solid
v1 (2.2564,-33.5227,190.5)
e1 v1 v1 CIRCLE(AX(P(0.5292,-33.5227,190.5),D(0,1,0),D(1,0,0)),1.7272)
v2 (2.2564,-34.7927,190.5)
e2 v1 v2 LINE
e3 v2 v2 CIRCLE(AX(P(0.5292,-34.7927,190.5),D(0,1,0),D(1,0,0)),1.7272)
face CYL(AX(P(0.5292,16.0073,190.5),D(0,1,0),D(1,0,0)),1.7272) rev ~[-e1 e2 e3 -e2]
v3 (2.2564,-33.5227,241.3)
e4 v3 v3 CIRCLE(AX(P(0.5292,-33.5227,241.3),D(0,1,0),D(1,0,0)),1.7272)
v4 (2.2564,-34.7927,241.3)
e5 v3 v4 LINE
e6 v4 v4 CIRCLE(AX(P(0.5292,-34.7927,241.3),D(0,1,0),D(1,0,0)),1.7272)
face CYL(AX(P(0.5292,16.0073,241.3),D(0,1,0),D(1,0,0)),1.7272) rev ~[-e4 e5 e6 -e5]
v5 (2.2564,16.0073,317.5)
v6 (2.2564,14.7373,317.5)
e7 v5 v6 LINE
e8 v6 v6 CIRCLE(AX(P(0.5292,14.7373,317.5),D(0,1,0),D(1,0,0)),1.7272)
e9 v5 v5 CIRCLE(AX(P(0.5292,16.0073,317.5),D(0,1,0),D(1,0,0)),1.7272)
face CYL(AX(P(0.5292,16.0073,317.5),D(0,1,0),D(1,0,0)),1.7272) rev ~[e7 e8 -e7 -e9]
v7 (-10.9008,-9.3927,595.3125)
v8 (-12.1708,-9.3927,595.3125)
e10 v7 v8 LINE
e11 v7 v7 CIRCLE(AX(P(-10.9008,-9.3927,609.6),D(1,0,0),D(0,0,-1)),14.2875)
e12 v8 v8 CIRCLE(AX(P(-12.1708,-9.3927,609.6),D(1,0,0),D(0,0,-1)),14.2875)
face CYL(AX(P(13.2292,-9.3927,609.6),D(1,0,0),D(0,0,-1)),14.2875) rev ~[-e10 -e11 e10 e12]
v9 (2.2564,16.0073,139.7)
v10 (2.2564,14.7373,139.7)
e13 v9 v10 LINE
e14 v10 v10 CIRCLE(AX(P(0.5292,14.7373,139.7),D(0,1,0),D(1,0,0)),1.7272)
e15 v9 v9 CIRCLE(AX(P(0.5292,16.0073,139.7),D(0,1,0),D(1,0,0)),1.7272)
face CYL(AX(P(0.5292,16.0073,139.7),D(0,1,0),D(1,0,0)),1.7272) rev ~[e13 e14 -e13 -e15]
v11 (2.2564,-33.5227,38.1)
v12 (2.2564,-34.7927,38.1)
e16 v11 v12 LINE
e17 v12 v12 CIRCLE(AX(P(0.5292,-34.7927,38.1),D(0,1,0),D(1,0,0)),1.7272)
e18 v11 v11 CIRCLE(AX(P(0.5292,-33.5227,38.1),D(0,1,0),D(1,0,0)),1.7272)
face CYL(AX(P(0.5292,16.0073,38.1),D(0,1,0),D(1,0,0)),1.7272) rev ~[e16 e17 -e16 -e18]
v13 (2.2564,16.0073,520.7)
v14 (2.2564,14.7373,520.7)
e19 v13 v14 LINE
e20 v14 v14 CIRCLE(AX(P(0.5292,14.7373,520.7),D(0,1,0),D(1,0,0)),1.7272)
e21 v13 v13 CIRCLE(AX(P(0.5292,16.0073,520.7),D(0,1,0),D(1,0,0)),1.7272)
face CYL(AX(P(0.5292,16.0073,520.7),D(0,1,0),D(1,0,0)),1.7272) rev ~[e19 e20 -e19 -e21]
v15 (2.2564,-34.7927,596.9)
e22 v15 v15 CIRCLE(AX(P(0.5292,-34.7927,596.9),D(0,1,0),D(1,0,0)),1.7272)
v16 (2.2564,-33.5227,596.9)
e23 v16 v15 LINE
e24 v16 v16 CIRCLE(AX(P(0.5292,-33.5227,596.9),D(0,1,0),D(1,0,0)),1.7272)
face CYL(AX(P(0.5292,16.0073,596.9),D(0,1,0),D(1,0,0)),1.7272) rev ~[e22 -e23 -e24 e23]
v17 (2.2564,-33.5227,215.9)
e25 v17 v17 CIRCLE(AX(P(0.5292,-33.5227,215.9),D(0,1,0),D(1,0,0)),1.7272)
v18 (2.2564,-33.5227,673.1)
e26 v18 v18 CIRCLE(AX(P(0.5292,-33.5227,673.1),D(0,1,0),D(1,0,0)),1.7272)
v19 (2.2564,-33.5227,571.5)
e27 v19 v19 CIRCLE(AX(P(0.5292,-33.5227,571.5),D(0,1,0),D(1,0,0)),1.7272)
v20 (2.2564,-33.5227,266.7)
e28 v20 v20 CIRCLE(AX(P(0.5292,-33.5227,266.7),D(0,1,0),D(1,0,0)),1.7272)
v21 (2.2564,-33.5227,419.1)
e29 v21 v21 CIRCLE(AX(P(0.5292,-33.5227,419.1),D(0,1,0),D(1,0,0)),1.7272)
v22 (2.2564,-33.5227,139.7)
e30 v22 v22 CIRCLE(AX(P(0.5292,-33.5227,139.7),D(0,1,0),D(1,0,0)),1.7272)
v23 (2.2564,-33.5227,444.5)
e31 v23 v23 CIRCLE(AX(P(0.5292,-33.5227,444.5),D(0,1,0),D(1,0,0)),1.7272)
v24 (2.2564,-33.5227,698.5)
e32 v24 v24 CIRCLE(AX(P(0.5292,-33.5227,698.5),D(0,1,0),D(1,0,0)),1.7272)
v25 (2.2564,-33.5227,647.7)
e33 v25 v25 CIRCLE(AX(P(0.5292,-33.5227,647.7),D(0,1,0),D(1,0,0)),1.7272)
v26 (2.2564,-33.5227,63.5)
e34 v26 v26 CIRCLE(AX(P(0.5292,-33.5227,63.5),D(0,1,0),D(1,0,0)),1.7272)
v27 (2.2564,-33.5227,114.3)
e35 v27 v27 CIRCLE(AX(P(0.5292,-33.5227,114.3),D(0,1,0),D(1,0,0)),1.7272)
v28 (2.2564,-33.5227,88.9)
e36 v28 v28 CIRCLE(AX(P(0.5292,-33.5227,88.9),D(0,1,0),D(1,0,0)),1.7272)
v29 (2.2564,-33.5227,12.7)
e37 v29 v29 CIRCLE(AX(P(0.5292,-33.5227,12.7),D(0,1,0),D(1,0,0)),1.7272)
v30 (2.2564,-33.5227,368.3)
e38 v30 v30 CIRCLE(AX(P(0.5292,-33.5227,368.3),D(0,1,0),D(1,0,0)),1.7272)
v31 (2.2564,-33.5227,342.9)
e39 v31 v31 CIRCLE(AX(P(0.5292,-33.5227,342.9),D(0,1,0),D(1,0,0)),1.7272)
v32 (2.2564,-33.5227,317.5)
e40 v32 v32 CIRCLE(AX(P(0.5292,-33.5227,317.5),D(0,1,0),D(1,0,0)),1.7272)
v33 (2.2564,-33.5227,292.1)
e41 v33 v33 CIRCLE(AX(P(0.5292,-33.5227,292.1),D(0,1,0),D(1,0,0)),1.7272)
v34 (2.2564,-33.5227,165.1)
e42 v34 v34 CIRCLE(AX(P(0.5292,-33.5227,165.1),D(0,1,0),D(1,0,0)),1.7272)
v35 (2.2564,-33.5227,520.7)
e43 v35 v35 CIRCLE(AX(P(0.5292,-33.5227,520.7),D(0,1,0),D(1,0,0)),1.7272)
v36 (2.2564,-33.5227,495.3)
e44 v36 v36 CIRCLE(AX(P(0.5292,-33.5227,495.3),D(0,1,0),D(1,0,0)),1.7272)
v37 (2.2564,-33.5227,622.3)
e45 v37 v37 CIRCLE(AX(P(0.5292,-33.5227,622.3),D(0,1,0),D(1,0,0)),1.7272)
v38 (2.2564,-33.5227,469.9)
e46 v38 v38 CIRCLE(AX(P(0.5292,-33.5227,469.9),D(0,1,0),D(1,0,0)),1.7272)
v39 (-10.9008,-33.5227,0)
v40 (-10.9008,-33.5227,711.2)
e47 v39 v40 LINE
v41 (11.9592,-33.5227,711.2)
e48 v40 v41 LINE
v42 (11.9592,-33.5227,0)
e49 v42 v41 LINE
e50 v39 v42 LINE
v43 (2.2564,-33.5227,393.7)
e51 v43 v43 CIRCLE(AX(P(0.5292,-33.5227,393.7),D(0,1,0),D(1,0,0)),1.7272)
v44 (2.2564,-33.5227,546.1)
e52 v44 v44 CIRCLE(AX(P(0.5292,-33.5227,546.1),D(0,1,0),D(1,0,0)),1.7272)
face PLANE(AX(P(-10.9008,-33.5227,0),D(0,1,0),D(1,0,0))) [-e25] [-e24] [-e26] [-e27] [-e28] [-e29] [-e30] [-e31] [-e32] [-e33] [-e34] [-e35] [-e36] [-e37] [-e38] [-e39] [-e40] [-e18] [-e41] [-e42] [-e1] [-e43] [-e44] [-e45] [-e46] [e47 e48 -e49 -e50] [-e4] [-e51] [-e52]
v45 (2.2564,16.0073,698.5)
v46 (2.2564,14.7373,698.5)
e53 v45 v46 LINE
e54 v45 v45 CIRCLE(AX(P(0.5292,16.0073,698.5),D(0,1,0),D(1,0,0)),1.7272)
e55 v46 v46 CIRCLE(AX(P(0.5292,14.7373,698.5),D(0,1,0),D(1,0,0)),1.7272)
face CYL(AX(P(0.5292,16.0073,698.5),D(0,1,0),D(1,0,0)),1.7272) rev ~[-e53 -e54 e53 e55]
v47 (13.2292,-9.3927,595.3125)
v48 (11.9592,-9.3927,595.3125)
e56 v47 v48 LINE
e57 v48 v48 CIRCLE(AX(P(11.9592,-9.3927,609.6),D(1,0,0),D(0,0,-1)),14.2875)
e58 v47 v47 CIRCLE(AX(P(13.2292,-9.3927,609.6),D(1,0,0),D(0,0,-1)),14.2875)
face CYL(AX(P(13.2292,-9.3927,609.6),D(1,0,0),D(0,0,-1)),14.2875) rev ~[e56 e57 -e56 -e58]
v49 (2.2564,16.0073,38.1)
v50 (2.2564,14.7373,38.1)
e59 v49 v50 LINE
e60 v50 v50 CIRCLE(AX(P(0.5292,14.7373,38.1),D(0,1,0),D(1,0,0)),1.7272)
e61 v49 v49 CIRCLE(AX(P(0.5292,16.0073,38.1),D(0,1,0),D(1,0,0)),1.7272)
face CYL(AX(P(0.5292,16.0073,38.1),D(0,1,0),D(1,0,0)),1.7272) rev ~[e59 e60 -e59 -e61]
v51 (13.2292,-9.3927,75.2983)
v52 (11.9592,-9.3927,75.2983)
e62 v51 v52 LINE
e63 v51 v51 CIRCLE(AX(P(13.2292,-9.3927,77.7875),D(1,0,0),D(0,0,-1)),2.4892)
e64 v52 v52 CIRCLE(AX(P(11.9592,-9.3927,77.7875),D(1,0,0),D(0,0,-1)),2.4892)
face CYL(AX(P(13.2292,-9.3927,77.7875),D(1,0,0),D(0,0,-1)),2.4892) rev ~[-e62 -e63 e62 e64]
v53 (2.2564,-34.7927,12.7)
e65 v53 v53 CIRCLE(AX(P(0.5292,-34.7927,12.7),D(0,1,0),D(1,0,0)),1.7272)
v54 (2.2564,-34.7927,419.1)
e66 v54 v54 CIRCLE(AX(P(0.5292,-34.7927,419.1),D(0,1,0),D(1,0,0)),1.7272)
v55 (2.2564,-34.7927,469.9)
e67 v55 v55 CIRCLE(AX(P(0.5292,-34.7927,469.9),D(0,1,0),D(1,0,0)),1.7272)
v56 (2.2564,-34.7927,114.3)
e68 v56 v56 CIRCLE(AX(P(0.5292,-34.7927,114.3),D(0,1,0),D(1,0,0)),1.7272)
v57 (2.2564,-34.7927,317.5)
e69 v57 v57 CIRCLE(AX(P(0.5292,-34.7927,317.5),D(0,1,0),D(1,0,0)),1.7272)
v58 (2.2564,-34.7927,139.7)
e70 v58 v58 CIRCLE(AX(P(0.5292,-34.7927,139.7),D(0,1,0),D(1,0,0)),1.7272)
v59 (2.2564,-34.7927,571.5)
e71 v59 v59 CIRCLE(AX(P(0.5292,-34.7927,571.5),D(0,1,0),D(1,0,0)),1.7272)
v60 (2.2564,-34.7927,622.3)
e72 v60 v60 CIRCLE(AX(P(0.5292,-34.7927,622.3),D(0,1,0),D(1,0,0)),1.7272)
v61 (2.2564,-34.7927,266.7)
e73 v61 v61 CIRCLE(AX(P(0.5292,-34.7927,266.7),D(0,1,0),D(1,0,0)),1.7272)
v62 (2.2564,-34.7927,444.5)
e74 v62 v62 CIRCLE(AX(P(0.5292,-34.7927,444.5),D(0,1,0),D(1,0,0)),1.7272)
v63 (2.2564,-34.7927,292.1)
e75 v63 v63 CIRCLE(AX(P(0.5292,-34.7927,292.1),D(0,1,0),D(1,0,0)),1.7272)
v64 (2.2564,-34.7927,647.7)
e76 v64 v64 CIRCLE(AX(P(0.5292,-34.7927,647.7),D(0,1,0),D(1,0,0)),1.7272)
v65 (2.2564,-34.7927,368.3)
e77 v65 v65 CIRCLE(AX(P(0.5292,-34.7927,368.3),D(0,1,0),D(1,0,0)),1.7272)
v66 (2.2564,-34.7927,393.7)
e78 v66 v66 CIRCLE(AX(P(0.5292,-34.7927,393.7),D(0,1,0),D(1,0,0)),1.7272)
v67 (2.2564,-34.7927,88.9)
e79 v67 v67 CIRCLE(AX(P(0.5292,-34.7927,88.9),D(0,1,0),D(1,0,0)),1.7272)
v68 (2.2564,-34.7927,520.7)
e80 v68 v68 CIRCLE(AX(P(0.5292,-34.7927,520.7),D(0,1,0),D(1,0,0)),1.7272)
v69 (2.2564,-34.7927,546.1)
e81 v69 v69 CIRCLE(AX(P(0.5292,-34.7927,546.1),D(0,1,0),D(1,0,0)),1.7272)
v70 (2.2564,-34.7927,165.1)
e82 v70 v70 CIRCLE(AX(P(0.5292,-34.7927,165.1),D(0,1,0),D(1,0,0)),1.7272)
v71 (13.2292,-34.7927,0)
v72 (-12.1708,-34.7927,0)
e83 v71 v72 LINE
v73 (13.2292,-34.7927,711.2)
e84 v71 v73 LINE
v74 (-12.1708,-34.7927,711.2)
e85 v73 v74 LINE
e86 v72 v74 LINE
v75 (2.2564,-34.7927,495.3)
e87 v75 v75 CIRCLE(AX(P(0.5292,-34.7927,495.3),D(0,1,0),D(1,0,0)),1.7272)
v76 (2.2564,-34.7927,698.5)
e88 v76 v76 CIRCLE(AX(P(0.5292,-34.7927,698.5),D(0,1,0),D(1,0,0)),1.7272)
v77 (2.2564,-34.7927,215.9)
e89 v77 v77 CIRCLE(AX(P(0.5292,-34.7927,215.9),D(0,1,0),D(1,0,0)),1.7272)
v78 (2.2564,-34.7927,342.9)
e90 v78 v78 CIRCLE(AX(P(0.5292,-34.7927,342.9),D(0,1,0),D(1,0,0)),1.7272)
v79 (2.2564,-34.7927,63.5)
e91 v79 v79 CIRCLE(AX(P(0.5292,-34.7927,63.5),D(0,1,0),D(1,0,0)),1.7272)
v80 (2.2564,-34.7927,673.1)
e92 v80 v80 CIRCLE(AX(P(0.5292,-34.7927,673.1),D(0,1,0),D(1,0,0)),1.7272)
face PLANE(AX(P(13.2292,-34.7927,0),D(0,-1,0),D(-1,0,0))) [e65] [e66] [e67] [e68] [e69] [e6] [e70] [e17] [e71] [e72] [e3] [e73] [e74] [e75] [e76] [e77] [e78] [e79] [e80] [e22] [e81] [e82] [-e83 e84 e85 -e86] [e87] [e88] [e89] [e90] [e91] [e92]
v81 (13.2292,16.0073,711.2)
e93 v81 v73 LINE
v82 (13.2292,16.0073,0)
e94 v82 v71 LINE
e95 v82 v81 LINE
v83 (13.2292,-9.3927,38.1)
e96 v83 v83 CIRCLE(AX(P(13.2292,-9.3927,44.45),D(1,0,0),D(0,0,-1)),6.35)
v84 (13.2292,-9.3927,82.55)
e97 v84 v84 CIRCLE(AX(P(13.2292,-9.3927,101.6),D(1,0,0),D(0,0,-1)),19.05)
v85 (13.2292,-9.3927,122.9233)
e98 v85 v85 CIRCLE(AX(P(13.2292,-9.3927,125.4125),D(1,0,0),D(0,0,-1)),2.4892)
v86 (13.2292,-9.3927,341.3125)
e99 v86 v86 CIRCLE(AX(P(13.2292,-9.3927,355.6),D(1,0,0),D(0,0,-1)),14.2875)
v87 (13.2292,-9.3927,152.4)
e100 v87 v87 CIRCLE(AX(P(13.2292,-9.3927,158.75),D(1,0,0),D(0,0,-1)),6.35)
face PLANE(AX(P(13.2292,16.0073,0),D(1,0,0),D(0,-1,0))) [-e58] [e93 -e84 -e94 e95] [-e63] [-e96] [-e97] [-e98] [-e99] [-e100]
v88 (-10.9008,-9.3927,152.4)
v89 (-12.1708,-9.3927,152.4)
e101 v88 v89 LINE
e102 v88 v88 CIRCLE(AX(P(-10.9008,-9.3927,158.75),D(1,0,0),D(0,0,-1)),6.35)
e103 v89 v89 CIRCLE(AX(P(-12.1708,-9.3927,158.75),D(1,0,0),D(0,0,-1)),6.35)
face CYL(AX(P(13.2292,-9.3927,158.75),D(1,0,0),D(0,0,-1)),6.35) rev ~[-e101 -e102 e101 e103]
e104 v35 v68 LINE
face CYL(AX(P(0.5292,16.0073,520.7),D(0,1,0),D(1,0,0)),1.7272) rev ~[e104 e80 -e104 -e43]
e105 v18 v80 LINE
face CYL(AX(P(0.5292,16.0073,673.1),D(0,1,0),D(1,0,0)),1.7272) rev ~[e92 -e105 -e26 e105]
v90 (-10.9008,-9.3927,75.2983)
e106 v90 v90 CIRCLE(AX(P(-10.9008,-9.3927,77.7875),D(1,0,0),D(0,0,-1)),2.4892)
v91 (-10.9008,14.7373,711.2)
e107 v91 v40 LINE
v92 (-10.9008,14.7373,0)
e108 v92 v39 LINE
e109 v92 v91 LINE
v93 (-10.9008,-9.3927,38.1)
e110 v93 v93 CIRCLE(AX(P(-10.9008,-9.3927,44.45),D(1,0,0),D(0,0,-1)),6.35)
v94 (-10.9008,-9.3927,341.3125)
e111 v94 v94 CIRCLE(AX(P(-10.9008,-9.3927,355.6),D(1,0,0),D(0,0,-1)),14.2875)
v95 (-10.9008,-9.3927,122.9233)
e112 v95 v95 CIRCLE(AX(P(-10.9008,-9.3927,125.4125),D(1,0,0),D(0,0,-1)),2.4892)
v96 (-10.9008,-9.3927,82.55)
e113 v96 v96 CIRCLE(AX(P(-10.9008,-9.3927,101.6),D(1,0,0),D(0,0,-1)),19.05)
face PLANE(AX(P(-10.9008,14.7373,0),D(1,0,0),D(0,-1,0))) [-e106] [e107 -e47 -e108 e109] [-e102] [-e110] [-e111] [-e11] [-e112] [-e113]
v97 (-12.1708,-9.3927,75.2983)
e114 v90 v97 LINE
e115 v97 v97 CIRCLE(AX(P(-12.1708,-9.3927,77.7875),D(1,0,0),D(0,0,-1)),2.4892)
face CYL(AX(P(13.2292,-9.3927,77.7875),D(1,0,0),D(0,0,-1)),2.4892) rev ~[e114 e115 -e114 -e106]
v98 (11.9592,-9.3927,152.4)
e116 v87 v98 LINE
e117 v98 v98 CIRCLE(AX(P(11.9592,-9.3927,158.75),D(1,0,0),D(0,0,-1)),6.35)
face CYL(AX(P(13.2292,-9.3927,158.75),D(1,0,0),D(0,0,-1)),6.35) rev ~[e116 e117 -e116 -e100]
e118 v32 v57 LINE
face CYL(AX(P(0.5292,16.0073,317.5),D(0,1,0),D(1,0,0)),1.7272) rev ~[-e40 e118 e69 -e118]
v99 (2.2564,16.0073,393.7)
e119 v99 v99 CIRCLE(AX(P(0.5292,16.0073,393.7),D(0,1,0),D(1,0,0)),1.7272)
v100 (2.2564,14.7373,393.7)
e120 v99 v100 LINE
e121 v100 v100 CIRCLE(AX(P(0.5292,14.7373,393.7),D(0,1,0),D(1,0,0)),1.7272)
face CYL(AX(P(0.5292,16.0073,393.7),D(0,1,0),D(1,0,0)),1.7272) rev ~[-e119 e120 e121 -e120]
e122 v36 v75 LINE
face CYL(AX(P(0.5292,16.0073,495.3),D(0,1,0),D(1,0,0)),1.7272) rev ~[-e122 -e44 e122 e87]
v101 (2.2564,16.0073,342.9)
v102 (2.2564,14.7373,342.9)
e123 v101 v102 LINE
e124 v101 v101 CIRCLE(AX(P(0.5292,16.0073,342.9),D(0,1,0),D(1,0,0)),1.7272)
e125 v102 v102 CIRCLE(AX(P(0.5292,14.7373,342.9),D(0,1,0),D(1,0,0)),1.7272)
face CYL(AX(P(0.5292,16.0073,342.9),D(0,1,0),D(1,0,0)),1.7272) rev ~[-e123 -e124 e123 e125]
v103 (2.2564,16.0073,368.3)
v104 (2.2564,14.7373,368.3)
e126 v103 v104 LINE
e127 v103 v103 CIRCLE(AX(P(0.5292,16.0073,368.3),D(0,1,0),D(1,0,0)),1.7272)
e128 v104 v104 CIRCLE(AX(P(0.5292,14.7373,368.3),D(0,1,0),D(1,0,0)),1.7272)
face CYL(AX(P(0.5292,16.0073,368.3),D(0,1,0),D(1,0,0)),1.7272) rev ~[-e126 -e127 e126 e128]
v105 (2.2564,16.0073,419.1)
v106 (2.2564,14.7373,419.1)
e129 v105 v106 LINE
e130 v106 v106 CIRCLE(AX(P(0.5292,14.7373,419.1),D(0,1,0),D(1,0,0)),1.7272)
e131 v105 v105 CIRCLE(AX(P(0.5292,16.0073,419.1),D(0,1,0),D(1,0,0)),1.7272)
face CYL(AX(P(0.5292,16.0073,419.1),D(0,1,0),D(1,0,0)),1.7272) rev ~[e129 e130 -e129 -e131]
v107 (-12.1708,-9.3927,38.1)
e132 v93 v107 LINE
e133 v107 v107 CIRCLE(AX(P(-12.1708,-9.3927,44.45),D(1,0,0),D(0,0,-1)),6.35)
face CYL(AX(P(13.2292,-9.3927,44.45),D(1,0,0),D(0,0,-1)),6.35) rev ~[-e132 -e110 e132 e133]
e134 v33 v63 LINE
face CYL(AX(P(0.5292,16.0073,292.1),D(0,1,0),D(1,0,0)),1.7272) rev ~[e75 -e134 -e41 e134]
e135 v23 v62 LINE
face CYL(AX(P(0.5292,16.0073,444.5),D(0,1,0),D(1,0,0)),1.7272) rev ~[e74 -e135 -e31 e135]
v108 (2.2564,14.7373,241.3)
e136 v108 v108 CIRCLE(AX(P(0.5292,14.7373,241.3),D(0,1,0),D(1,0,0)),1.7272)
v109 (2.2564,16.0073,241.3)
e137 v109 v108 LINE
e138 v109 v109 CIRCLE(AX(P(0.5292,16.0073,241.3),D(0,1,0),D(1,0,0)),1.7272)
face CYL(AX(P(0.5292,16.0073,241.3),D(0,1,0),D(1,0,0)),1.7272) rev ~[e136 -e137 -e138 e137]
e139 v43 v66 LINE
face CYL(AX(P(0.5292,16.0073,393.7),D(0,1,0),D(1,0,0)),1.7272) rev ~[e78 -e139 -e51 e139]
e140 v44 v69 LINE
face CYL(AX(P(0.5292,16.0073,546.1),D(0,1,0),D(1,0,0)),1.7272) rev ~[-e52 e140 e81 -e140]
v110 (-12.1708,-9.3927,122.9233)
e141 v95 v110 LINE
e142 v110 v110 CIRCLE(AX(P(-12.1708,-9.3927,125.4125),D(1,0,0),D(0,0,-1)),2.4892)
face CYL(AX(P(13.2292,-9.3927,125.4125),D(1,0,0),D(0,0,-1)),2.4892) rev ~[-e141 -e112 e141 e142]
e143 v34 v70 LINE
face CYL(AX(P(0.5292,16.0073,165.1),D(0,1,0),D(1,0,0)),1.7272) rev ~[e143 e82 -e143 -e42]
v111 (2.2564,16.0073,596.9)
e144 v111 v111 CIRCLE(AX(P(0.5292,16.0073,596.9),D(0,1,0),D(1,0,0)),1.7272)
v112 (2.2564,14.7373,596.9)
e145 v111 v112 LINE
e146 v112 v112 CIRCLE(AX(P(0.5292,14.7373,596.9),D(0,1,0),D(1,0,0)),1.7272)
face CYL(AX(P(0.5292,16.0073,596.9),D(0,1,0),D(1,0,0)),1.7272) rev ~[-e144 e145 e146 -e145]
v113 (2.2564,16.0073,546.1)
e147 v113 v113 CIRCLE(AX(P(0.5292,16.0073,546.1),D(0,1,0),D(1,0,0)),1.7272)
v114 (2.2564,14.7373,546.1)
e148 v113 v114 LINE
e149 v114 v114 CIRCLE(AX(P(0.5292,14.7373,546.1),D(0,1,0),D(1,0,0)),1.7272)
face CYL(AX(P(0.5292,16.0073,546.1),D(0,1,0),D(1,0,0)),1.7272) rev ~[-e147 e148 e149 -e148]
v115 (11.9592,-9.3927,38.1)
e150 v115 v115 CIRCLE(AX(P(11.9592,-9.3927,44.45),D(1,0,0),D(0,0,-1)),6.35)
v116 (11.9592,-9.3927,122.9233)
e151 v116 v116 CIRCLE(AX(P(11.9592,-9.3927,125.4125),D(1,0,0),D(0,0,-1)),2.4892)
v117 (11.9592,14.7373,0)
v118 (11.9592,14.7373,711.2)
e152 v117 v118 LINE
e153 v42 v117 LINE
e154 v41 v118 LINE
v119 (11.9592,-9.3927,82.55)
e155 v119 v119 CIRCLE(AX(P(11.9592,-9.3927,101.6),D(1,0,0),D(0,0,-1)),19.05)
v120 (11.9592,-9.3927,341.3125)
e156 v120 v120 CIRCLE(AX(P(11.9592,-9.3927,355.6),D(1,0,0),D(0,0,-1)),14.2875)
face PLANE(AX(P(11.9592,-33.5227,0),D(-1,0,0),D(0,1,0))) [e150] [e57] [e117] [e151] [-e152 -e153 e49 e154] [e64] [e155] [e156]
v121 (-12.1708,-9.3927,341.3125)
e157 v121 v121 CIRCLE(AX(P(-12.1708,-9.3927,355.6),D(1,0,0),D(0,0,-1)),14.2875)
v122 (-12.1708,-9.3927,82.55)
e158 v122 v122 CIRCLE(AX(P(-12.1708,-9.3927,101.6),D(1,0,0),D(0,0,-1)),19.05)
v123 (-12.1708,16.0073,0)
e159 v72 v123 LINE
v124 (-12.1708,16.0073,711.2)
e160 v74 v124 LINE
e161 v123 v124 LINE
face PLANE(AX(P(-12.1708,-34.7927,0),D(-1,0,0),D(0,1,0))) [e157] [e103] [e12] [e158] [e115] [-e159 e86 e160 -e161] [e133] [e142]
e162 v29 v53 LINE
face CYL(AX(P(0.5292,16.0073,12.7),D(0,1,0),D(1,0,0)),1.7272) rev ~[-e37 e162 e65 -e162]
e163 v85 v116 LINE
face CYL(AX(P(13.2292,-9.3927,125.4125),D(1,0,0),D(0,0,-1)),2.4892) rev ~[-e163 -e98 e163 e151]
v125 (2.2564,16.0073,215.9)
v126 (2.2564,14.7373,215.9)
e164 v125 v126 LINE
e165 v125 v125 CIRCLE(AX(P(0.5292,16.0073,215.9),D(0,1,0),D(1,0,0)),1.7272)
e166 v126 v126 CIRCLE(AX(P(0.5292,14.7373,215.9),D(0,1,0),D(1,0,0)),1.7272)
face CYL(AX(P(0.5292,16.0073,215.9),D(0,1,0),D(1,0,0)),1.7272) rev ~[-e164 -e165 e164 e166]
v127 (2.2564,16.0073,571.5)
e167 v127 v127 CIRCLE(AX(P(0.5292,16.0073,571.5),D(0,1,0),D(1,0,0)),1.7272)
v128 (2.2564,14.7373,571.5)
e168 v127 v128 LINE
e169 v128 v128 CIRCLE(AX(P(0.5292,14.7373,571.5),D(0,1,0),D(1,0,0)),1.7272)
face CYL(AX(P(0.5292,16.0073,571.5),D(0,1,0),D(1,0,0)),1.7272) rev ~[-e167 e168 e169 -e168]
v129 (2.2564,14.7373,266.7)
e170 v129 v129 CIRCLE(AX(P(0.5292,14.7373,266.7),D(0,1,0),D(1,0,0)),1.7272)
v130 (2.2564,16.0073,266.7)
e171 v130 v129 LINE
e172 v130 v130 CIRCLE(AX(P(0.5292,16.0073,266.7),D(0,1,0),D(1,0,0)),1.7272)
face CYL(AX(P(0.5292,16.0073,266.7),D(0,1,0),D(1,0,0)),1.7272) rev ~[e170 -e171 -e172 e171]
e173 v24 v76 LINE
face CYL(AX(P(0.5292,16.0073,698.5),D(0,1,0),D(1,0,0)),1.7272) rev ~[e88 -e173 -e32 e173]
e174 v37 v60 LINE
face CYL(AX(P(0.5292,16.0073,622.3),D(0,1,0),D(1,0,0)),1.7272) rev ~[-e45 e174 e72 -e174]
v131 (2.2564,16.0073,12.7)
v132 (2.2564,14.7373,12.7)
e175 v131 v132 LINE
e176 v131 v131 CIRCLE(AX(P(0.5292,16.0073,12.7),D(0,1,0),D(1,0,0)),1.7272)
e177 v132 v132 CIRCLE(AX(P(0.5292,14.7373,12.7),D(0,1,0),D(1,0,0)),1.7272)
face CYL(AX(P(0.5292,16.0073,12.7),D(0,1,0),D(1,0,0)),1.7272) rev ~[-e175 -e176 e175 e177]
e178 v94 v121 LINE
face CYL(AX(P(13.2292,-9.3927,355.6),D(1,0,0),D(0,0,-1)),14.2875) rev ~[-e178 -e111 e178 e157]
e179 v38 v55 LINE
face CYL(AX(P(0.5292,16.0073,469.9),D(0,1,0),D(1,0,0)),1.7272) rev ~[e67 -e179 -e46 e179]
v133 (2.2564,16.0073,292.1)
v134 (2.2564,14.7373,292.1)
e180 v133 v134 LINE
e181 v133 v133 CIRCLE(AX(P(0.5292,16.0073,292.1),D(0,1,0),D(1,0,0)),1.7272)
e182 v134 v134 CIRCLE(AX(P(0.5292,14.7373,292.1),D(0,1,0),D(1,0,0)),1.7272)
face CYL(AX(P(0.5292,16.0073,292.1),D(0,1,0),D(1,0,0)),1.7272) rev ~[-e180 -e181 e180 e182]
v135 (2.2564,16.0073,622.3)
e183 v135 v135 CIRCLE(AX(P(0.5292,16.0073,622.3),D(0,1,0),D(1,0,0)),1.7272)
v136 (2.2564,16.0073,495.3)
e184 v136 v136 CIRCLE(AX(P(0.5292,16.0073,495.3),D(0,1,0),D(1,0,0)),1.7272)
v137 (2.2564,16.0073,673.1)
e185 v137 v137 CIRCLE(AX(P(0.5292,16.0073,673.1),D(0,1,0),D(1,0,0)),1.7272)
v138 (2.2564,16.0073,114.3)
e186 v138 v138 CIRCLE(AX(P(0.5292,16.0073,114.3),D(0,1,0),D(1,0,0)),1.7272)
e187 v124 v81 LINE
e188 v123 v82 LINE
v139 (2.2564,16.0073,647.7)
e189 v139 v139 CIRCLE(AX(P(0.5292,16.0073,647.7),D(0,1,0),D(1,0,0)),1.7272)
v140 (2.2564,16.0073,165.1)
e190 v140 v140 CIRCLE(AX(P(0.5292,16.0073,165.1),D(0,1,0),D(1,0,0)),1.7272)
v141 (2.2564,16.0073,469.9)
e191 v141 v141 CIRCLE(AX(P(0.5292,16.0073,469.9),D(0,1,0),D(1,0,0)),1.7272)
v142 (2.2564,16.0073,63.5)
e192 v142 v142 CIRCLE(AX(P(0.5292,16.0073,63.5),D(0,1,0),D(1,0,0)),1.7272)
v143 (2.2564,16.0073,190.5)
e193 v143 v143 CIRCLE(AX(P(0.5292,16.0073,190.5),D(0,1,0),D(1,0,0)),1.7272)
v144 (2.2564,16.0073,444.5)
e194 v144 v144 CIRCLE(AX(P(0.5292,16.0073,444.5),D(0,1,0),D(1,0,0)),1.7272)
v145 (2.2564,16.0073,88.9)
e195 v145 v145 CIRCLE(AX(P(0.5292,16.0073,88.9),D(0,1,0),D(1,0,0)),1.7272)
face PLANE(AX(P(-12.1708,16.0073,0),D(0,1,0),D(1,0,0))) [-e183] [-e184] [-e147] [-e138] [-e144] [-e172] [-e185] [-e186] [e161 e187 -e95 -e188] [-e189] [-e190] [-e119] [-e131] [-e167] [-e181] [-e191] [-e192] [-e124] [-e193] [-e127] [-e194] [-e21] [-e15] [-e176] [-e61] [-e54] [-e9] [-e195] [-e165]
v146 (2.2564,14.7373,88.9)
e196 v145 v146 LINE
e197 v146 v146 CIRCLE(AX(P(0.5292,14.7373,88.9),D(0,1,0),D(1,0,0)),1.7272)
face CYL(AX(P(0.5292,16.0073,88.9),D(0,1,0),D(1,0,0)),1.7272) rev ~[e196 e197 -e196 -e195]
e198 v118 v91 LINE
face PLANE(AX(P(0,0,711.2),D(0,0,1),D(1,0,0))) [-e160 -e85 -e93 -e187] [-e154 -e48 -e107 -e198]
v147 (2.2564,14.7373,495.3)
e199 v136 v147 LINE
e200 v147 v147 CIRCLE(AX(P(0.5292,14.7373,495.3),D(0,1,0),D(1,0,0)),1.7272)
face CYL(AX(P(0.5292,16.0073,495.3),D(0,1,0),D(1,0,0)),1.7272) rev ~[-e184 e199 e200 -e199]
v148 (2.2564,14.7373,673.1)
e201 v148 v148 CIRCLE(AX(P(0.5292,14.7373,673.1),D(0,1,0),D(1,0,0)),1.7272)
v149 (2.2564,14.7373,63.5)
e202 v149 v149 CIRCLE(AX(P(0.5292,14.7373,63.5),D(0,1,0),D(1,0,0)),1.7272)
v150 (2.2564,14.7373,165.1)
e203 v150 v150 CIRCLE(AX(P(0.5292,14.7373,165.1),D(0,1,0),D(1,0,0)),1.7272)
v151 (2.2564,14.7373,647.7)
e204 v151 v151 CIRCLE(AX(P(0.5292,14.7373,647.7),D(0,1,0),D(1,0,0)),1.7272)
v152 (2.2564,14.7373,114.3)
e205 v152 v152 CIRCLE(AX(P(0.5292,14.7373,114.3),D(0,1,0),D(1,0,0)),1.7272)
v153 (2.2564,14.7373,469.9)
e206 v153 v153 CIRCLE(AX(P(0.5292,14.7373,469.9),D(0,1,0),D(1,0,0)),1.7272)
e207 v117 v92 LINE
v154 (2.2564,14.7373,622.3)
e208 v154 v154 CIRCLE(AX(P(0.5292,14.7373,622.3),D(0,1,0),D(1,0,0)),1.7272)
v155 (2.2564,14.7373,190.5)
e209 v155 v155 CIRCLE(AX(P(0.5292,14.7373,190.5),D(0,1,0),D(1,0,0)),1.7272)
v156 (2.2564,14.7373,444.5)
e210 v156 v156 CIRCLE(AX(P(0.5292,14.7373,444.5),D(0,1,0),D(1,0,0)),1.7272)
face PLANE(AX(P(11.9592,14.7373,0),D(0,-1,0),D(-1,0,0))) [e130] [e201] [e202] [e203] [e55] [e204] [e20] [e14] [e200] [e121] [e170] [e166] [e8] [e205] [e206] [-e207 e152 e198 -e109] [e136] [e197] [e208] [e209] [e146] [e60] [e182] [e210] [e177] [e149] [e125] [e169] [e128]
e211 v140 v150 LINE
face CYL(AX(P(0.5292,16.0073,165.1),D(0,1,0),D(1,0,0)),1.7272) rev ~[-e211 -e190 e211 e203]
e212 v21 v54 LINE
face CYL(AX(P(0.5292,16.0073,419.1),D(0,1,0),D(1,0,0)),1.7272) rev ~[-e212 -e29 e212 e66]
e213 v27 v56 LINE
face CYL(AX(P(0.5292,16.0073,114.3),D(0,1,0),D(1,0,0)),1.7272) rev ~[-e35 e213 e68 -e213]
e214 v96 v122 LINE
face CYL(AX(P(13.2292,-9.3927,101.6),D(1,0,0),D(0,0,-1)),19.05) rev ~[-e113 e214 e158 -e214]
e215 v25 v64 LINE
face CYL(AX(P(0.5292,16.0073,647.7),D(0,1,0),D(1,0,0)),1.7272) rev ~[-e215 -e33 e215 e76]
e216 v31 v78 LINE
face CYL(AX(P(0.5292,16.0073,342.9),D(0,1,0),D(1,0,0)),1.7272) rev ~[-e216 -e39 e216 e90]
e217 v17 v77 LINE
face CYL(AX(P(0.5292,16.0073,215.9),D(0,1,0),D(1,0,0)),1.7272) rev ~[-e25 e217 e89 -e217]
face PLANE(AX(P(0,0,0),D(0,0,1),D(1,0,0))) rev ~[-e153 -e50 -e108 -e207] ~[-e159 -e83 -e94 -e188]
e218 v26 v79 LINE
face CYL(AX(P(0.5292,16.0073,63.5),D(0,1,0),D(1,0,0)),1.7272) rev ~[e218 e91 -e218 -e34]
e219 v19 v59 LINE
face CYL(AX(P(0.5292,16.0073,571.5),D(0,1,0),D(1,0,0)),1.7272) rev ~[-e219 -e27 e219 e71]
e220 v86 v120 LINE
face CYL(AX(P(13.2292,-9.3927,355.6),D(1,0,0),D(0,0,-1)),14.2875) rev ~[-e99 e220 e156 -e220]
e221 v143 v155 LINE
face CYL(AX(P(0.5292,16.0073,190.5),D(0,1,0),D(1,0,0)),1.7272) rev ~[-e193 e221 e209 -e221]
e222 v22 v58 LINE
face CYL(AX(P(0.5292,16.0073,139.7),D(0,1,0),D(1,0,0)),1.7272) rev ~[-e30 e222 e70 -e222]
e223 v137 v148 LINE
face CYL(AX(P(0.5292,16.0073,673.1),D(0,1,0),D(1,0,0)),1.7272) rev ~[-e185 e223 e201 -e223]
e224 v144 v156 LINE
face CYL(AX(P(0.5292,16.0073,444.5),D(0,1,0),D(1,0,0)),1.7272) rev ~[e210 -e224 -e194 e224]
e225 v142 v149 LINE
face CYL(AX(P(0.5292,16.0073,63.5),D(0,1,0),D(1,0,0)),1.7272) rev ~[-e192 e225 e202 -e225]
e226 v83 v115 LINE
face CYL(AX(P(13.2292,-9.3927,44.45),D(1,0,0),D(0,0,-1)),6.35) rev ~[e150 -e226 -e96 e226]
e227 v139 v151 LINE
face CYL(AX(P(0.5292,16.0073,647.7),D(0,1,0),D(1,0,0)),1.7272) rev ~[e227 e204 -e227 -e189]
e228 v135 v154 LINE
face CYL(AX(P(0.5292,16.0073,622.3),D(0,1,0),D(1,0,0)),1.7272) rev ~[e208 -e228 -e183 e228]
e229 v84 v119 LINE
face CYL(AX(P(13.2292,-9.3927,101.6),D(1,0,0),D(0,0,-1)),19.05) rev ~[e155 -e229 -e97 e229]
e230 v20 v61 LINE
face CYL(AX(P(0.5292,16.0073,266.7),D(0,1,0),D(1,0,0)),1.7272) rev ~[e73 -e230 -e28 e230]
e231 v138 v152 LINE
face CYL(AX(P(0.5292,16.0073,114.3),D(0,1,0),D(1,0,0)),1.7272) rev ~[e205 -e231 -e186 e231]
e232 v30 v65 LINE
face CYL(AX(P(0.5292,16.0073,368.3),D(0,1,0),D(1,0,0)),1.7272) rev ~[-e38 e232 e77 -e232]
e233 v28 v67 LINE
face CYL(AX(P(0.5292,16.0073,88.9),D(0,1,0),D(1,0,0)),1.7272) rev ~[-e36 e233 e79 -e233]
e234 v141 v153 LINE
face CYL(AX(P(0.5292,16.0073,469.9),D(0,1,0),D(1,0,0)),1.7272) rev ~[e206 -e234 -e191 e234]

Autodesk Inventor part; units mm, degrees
ref_plane "YZ Plane" through (0, 0, 0) normal (1, 0, 0) x (0, 1, 0)
ref_plane "XZ Plane" through (0, 0, 0) normal (0, 1, 0) x (-1, 0, 0)
ref_plane "XY Plane" through (0, 0, 0) normal (0, 0, 1) x (1, 0, 0)
sketch "Sketch1" plane through (0, 0, 0) normal (0, 0, 1) x (1, 0, 0)
  line L0 (-12.1708, 16.0073) -> (13.2292, 16.0073)
  line L1 (13.2292, 16.0073) -> (13.2292, -34.7927)
  line L2 (13.2292, -34.7927) -> (-12.1708, -34.7927)
  line L3 (-12.1708, -34.7927) -> (-12.1708, 16.0073)
  line L4 (11.9592, 14.7373) -> (-10.9008, 14.7373)
  line L5 (-10.9008, 14.7373) -> (-10.9008, -33.5227)
  line L6 (-10.9008, -33.5227) -> (11.9592, -33.5227)
  line L7 (11.9592, -33.5227) -> (11.9592, 14.7373)
  point P0 (0, 0)
  dimension "d0" = 25.4
  dimension "d1" = 50.8
  dimension "d2" = 1.27
extrude "Extrusion1" add sketch "Sketch1" along normal blind 711.2
sketch "Sketch2" plane through (-12.1708, 16.0073, 0) normal (0, 1, 0) x (1, 0, 0)
  circle A0 centre (12.7, -12.7) radius 1.7272
  line L0 (25.4, 0) -> (0, 0) projected
  line L1 (0, 0) -> (0, -711.2) projected
  point P0 (12.1708, 0)
  dimension "d5" = 3.4544
  dimension "d6" = 12.7
  dimension "d7" = 12.7
extrude "Extrusion2" cut sketch "Sketch2" against normal through all
pattern_linear "Rectangular Pattern1" count 71 spacing 25.4 along (0, 0, 1) of "Extrusion2"
sketch "Sketch3" plane through (13.2292, -34.7927, 0) normal (1, 0, 0) x (0, 0, -1)
  circle A0 centre (-101.6, 25.4) radius 19.05
  circle A1 centre (-101.6, 25.4) radius 23.8125 construction
  circle A2 centre (-125.4125, 25.4) radius 2.4892
  circle A3 centre (-77.7875, 25.4) radius 2.4892
  line L0 (-406.4, 34.925) -> (-381, 15.875) construction
  line L1 (-711.2, 50.8) -> (-711.2, 0) construction
  line L2 (-711.2, 25.4) -> (0, 25.4) construction
  line L3 (0, 50.8) -> (0, 0) construction
  circle A4 centre (-609.6, 25.4) radius 14.2875
  circle A5 centre (-355.6, 25.4) radius 14.2875
  circle A6 centre (-44.45, 25.4) radius 6.35
  circle A7 centre (-158.75, 25.4) radius 6.35
  line L4 (0, 0) -> (0, 50.8) projected
  point P0 (0, 34.7927)
  point P1 (-393.7, 25.4)
  point P2 (-624.3413, 25.4)
  point P3 (-134.62, 25.4)
  dimension "d15" = 38.1
  dimension "d16" = 47.625
  dimension "d17" = 4.9784
  dimension "d18" = 4.9784
  dimension "d25" = 28.575
  dimension "d27" = 28.575
  dimension "d29" = 12.7
  dimension "d30" = 12.7
  dimension "d31" = 355.6
  dimension "d33" = 101.6
  dimension "d34" = 101.6
  dimension "d35" = 57.15
  dimension "d36" = 57.15
  dimension "d37" = 77.7875
  dimension "d38" = 125.4125
  dimension "d39" = 158.75
  dimension "d40" = 44.45
extrude "Extrusion3" cut sketch "Sketch3" against normal through all
equation "\"d3\" = d13"
equation "\"d31\" = 0.5 * d13"
equation "\"d33\" = d32"
equation "\"d34\" = d32"
equation "\"d10\" = d14"
equation "\"d13\" = 711.2"
equation "\"d14\" = d13"
equation "\"d32\" = 101.6"
properties part number "VersaFrame 28in"
